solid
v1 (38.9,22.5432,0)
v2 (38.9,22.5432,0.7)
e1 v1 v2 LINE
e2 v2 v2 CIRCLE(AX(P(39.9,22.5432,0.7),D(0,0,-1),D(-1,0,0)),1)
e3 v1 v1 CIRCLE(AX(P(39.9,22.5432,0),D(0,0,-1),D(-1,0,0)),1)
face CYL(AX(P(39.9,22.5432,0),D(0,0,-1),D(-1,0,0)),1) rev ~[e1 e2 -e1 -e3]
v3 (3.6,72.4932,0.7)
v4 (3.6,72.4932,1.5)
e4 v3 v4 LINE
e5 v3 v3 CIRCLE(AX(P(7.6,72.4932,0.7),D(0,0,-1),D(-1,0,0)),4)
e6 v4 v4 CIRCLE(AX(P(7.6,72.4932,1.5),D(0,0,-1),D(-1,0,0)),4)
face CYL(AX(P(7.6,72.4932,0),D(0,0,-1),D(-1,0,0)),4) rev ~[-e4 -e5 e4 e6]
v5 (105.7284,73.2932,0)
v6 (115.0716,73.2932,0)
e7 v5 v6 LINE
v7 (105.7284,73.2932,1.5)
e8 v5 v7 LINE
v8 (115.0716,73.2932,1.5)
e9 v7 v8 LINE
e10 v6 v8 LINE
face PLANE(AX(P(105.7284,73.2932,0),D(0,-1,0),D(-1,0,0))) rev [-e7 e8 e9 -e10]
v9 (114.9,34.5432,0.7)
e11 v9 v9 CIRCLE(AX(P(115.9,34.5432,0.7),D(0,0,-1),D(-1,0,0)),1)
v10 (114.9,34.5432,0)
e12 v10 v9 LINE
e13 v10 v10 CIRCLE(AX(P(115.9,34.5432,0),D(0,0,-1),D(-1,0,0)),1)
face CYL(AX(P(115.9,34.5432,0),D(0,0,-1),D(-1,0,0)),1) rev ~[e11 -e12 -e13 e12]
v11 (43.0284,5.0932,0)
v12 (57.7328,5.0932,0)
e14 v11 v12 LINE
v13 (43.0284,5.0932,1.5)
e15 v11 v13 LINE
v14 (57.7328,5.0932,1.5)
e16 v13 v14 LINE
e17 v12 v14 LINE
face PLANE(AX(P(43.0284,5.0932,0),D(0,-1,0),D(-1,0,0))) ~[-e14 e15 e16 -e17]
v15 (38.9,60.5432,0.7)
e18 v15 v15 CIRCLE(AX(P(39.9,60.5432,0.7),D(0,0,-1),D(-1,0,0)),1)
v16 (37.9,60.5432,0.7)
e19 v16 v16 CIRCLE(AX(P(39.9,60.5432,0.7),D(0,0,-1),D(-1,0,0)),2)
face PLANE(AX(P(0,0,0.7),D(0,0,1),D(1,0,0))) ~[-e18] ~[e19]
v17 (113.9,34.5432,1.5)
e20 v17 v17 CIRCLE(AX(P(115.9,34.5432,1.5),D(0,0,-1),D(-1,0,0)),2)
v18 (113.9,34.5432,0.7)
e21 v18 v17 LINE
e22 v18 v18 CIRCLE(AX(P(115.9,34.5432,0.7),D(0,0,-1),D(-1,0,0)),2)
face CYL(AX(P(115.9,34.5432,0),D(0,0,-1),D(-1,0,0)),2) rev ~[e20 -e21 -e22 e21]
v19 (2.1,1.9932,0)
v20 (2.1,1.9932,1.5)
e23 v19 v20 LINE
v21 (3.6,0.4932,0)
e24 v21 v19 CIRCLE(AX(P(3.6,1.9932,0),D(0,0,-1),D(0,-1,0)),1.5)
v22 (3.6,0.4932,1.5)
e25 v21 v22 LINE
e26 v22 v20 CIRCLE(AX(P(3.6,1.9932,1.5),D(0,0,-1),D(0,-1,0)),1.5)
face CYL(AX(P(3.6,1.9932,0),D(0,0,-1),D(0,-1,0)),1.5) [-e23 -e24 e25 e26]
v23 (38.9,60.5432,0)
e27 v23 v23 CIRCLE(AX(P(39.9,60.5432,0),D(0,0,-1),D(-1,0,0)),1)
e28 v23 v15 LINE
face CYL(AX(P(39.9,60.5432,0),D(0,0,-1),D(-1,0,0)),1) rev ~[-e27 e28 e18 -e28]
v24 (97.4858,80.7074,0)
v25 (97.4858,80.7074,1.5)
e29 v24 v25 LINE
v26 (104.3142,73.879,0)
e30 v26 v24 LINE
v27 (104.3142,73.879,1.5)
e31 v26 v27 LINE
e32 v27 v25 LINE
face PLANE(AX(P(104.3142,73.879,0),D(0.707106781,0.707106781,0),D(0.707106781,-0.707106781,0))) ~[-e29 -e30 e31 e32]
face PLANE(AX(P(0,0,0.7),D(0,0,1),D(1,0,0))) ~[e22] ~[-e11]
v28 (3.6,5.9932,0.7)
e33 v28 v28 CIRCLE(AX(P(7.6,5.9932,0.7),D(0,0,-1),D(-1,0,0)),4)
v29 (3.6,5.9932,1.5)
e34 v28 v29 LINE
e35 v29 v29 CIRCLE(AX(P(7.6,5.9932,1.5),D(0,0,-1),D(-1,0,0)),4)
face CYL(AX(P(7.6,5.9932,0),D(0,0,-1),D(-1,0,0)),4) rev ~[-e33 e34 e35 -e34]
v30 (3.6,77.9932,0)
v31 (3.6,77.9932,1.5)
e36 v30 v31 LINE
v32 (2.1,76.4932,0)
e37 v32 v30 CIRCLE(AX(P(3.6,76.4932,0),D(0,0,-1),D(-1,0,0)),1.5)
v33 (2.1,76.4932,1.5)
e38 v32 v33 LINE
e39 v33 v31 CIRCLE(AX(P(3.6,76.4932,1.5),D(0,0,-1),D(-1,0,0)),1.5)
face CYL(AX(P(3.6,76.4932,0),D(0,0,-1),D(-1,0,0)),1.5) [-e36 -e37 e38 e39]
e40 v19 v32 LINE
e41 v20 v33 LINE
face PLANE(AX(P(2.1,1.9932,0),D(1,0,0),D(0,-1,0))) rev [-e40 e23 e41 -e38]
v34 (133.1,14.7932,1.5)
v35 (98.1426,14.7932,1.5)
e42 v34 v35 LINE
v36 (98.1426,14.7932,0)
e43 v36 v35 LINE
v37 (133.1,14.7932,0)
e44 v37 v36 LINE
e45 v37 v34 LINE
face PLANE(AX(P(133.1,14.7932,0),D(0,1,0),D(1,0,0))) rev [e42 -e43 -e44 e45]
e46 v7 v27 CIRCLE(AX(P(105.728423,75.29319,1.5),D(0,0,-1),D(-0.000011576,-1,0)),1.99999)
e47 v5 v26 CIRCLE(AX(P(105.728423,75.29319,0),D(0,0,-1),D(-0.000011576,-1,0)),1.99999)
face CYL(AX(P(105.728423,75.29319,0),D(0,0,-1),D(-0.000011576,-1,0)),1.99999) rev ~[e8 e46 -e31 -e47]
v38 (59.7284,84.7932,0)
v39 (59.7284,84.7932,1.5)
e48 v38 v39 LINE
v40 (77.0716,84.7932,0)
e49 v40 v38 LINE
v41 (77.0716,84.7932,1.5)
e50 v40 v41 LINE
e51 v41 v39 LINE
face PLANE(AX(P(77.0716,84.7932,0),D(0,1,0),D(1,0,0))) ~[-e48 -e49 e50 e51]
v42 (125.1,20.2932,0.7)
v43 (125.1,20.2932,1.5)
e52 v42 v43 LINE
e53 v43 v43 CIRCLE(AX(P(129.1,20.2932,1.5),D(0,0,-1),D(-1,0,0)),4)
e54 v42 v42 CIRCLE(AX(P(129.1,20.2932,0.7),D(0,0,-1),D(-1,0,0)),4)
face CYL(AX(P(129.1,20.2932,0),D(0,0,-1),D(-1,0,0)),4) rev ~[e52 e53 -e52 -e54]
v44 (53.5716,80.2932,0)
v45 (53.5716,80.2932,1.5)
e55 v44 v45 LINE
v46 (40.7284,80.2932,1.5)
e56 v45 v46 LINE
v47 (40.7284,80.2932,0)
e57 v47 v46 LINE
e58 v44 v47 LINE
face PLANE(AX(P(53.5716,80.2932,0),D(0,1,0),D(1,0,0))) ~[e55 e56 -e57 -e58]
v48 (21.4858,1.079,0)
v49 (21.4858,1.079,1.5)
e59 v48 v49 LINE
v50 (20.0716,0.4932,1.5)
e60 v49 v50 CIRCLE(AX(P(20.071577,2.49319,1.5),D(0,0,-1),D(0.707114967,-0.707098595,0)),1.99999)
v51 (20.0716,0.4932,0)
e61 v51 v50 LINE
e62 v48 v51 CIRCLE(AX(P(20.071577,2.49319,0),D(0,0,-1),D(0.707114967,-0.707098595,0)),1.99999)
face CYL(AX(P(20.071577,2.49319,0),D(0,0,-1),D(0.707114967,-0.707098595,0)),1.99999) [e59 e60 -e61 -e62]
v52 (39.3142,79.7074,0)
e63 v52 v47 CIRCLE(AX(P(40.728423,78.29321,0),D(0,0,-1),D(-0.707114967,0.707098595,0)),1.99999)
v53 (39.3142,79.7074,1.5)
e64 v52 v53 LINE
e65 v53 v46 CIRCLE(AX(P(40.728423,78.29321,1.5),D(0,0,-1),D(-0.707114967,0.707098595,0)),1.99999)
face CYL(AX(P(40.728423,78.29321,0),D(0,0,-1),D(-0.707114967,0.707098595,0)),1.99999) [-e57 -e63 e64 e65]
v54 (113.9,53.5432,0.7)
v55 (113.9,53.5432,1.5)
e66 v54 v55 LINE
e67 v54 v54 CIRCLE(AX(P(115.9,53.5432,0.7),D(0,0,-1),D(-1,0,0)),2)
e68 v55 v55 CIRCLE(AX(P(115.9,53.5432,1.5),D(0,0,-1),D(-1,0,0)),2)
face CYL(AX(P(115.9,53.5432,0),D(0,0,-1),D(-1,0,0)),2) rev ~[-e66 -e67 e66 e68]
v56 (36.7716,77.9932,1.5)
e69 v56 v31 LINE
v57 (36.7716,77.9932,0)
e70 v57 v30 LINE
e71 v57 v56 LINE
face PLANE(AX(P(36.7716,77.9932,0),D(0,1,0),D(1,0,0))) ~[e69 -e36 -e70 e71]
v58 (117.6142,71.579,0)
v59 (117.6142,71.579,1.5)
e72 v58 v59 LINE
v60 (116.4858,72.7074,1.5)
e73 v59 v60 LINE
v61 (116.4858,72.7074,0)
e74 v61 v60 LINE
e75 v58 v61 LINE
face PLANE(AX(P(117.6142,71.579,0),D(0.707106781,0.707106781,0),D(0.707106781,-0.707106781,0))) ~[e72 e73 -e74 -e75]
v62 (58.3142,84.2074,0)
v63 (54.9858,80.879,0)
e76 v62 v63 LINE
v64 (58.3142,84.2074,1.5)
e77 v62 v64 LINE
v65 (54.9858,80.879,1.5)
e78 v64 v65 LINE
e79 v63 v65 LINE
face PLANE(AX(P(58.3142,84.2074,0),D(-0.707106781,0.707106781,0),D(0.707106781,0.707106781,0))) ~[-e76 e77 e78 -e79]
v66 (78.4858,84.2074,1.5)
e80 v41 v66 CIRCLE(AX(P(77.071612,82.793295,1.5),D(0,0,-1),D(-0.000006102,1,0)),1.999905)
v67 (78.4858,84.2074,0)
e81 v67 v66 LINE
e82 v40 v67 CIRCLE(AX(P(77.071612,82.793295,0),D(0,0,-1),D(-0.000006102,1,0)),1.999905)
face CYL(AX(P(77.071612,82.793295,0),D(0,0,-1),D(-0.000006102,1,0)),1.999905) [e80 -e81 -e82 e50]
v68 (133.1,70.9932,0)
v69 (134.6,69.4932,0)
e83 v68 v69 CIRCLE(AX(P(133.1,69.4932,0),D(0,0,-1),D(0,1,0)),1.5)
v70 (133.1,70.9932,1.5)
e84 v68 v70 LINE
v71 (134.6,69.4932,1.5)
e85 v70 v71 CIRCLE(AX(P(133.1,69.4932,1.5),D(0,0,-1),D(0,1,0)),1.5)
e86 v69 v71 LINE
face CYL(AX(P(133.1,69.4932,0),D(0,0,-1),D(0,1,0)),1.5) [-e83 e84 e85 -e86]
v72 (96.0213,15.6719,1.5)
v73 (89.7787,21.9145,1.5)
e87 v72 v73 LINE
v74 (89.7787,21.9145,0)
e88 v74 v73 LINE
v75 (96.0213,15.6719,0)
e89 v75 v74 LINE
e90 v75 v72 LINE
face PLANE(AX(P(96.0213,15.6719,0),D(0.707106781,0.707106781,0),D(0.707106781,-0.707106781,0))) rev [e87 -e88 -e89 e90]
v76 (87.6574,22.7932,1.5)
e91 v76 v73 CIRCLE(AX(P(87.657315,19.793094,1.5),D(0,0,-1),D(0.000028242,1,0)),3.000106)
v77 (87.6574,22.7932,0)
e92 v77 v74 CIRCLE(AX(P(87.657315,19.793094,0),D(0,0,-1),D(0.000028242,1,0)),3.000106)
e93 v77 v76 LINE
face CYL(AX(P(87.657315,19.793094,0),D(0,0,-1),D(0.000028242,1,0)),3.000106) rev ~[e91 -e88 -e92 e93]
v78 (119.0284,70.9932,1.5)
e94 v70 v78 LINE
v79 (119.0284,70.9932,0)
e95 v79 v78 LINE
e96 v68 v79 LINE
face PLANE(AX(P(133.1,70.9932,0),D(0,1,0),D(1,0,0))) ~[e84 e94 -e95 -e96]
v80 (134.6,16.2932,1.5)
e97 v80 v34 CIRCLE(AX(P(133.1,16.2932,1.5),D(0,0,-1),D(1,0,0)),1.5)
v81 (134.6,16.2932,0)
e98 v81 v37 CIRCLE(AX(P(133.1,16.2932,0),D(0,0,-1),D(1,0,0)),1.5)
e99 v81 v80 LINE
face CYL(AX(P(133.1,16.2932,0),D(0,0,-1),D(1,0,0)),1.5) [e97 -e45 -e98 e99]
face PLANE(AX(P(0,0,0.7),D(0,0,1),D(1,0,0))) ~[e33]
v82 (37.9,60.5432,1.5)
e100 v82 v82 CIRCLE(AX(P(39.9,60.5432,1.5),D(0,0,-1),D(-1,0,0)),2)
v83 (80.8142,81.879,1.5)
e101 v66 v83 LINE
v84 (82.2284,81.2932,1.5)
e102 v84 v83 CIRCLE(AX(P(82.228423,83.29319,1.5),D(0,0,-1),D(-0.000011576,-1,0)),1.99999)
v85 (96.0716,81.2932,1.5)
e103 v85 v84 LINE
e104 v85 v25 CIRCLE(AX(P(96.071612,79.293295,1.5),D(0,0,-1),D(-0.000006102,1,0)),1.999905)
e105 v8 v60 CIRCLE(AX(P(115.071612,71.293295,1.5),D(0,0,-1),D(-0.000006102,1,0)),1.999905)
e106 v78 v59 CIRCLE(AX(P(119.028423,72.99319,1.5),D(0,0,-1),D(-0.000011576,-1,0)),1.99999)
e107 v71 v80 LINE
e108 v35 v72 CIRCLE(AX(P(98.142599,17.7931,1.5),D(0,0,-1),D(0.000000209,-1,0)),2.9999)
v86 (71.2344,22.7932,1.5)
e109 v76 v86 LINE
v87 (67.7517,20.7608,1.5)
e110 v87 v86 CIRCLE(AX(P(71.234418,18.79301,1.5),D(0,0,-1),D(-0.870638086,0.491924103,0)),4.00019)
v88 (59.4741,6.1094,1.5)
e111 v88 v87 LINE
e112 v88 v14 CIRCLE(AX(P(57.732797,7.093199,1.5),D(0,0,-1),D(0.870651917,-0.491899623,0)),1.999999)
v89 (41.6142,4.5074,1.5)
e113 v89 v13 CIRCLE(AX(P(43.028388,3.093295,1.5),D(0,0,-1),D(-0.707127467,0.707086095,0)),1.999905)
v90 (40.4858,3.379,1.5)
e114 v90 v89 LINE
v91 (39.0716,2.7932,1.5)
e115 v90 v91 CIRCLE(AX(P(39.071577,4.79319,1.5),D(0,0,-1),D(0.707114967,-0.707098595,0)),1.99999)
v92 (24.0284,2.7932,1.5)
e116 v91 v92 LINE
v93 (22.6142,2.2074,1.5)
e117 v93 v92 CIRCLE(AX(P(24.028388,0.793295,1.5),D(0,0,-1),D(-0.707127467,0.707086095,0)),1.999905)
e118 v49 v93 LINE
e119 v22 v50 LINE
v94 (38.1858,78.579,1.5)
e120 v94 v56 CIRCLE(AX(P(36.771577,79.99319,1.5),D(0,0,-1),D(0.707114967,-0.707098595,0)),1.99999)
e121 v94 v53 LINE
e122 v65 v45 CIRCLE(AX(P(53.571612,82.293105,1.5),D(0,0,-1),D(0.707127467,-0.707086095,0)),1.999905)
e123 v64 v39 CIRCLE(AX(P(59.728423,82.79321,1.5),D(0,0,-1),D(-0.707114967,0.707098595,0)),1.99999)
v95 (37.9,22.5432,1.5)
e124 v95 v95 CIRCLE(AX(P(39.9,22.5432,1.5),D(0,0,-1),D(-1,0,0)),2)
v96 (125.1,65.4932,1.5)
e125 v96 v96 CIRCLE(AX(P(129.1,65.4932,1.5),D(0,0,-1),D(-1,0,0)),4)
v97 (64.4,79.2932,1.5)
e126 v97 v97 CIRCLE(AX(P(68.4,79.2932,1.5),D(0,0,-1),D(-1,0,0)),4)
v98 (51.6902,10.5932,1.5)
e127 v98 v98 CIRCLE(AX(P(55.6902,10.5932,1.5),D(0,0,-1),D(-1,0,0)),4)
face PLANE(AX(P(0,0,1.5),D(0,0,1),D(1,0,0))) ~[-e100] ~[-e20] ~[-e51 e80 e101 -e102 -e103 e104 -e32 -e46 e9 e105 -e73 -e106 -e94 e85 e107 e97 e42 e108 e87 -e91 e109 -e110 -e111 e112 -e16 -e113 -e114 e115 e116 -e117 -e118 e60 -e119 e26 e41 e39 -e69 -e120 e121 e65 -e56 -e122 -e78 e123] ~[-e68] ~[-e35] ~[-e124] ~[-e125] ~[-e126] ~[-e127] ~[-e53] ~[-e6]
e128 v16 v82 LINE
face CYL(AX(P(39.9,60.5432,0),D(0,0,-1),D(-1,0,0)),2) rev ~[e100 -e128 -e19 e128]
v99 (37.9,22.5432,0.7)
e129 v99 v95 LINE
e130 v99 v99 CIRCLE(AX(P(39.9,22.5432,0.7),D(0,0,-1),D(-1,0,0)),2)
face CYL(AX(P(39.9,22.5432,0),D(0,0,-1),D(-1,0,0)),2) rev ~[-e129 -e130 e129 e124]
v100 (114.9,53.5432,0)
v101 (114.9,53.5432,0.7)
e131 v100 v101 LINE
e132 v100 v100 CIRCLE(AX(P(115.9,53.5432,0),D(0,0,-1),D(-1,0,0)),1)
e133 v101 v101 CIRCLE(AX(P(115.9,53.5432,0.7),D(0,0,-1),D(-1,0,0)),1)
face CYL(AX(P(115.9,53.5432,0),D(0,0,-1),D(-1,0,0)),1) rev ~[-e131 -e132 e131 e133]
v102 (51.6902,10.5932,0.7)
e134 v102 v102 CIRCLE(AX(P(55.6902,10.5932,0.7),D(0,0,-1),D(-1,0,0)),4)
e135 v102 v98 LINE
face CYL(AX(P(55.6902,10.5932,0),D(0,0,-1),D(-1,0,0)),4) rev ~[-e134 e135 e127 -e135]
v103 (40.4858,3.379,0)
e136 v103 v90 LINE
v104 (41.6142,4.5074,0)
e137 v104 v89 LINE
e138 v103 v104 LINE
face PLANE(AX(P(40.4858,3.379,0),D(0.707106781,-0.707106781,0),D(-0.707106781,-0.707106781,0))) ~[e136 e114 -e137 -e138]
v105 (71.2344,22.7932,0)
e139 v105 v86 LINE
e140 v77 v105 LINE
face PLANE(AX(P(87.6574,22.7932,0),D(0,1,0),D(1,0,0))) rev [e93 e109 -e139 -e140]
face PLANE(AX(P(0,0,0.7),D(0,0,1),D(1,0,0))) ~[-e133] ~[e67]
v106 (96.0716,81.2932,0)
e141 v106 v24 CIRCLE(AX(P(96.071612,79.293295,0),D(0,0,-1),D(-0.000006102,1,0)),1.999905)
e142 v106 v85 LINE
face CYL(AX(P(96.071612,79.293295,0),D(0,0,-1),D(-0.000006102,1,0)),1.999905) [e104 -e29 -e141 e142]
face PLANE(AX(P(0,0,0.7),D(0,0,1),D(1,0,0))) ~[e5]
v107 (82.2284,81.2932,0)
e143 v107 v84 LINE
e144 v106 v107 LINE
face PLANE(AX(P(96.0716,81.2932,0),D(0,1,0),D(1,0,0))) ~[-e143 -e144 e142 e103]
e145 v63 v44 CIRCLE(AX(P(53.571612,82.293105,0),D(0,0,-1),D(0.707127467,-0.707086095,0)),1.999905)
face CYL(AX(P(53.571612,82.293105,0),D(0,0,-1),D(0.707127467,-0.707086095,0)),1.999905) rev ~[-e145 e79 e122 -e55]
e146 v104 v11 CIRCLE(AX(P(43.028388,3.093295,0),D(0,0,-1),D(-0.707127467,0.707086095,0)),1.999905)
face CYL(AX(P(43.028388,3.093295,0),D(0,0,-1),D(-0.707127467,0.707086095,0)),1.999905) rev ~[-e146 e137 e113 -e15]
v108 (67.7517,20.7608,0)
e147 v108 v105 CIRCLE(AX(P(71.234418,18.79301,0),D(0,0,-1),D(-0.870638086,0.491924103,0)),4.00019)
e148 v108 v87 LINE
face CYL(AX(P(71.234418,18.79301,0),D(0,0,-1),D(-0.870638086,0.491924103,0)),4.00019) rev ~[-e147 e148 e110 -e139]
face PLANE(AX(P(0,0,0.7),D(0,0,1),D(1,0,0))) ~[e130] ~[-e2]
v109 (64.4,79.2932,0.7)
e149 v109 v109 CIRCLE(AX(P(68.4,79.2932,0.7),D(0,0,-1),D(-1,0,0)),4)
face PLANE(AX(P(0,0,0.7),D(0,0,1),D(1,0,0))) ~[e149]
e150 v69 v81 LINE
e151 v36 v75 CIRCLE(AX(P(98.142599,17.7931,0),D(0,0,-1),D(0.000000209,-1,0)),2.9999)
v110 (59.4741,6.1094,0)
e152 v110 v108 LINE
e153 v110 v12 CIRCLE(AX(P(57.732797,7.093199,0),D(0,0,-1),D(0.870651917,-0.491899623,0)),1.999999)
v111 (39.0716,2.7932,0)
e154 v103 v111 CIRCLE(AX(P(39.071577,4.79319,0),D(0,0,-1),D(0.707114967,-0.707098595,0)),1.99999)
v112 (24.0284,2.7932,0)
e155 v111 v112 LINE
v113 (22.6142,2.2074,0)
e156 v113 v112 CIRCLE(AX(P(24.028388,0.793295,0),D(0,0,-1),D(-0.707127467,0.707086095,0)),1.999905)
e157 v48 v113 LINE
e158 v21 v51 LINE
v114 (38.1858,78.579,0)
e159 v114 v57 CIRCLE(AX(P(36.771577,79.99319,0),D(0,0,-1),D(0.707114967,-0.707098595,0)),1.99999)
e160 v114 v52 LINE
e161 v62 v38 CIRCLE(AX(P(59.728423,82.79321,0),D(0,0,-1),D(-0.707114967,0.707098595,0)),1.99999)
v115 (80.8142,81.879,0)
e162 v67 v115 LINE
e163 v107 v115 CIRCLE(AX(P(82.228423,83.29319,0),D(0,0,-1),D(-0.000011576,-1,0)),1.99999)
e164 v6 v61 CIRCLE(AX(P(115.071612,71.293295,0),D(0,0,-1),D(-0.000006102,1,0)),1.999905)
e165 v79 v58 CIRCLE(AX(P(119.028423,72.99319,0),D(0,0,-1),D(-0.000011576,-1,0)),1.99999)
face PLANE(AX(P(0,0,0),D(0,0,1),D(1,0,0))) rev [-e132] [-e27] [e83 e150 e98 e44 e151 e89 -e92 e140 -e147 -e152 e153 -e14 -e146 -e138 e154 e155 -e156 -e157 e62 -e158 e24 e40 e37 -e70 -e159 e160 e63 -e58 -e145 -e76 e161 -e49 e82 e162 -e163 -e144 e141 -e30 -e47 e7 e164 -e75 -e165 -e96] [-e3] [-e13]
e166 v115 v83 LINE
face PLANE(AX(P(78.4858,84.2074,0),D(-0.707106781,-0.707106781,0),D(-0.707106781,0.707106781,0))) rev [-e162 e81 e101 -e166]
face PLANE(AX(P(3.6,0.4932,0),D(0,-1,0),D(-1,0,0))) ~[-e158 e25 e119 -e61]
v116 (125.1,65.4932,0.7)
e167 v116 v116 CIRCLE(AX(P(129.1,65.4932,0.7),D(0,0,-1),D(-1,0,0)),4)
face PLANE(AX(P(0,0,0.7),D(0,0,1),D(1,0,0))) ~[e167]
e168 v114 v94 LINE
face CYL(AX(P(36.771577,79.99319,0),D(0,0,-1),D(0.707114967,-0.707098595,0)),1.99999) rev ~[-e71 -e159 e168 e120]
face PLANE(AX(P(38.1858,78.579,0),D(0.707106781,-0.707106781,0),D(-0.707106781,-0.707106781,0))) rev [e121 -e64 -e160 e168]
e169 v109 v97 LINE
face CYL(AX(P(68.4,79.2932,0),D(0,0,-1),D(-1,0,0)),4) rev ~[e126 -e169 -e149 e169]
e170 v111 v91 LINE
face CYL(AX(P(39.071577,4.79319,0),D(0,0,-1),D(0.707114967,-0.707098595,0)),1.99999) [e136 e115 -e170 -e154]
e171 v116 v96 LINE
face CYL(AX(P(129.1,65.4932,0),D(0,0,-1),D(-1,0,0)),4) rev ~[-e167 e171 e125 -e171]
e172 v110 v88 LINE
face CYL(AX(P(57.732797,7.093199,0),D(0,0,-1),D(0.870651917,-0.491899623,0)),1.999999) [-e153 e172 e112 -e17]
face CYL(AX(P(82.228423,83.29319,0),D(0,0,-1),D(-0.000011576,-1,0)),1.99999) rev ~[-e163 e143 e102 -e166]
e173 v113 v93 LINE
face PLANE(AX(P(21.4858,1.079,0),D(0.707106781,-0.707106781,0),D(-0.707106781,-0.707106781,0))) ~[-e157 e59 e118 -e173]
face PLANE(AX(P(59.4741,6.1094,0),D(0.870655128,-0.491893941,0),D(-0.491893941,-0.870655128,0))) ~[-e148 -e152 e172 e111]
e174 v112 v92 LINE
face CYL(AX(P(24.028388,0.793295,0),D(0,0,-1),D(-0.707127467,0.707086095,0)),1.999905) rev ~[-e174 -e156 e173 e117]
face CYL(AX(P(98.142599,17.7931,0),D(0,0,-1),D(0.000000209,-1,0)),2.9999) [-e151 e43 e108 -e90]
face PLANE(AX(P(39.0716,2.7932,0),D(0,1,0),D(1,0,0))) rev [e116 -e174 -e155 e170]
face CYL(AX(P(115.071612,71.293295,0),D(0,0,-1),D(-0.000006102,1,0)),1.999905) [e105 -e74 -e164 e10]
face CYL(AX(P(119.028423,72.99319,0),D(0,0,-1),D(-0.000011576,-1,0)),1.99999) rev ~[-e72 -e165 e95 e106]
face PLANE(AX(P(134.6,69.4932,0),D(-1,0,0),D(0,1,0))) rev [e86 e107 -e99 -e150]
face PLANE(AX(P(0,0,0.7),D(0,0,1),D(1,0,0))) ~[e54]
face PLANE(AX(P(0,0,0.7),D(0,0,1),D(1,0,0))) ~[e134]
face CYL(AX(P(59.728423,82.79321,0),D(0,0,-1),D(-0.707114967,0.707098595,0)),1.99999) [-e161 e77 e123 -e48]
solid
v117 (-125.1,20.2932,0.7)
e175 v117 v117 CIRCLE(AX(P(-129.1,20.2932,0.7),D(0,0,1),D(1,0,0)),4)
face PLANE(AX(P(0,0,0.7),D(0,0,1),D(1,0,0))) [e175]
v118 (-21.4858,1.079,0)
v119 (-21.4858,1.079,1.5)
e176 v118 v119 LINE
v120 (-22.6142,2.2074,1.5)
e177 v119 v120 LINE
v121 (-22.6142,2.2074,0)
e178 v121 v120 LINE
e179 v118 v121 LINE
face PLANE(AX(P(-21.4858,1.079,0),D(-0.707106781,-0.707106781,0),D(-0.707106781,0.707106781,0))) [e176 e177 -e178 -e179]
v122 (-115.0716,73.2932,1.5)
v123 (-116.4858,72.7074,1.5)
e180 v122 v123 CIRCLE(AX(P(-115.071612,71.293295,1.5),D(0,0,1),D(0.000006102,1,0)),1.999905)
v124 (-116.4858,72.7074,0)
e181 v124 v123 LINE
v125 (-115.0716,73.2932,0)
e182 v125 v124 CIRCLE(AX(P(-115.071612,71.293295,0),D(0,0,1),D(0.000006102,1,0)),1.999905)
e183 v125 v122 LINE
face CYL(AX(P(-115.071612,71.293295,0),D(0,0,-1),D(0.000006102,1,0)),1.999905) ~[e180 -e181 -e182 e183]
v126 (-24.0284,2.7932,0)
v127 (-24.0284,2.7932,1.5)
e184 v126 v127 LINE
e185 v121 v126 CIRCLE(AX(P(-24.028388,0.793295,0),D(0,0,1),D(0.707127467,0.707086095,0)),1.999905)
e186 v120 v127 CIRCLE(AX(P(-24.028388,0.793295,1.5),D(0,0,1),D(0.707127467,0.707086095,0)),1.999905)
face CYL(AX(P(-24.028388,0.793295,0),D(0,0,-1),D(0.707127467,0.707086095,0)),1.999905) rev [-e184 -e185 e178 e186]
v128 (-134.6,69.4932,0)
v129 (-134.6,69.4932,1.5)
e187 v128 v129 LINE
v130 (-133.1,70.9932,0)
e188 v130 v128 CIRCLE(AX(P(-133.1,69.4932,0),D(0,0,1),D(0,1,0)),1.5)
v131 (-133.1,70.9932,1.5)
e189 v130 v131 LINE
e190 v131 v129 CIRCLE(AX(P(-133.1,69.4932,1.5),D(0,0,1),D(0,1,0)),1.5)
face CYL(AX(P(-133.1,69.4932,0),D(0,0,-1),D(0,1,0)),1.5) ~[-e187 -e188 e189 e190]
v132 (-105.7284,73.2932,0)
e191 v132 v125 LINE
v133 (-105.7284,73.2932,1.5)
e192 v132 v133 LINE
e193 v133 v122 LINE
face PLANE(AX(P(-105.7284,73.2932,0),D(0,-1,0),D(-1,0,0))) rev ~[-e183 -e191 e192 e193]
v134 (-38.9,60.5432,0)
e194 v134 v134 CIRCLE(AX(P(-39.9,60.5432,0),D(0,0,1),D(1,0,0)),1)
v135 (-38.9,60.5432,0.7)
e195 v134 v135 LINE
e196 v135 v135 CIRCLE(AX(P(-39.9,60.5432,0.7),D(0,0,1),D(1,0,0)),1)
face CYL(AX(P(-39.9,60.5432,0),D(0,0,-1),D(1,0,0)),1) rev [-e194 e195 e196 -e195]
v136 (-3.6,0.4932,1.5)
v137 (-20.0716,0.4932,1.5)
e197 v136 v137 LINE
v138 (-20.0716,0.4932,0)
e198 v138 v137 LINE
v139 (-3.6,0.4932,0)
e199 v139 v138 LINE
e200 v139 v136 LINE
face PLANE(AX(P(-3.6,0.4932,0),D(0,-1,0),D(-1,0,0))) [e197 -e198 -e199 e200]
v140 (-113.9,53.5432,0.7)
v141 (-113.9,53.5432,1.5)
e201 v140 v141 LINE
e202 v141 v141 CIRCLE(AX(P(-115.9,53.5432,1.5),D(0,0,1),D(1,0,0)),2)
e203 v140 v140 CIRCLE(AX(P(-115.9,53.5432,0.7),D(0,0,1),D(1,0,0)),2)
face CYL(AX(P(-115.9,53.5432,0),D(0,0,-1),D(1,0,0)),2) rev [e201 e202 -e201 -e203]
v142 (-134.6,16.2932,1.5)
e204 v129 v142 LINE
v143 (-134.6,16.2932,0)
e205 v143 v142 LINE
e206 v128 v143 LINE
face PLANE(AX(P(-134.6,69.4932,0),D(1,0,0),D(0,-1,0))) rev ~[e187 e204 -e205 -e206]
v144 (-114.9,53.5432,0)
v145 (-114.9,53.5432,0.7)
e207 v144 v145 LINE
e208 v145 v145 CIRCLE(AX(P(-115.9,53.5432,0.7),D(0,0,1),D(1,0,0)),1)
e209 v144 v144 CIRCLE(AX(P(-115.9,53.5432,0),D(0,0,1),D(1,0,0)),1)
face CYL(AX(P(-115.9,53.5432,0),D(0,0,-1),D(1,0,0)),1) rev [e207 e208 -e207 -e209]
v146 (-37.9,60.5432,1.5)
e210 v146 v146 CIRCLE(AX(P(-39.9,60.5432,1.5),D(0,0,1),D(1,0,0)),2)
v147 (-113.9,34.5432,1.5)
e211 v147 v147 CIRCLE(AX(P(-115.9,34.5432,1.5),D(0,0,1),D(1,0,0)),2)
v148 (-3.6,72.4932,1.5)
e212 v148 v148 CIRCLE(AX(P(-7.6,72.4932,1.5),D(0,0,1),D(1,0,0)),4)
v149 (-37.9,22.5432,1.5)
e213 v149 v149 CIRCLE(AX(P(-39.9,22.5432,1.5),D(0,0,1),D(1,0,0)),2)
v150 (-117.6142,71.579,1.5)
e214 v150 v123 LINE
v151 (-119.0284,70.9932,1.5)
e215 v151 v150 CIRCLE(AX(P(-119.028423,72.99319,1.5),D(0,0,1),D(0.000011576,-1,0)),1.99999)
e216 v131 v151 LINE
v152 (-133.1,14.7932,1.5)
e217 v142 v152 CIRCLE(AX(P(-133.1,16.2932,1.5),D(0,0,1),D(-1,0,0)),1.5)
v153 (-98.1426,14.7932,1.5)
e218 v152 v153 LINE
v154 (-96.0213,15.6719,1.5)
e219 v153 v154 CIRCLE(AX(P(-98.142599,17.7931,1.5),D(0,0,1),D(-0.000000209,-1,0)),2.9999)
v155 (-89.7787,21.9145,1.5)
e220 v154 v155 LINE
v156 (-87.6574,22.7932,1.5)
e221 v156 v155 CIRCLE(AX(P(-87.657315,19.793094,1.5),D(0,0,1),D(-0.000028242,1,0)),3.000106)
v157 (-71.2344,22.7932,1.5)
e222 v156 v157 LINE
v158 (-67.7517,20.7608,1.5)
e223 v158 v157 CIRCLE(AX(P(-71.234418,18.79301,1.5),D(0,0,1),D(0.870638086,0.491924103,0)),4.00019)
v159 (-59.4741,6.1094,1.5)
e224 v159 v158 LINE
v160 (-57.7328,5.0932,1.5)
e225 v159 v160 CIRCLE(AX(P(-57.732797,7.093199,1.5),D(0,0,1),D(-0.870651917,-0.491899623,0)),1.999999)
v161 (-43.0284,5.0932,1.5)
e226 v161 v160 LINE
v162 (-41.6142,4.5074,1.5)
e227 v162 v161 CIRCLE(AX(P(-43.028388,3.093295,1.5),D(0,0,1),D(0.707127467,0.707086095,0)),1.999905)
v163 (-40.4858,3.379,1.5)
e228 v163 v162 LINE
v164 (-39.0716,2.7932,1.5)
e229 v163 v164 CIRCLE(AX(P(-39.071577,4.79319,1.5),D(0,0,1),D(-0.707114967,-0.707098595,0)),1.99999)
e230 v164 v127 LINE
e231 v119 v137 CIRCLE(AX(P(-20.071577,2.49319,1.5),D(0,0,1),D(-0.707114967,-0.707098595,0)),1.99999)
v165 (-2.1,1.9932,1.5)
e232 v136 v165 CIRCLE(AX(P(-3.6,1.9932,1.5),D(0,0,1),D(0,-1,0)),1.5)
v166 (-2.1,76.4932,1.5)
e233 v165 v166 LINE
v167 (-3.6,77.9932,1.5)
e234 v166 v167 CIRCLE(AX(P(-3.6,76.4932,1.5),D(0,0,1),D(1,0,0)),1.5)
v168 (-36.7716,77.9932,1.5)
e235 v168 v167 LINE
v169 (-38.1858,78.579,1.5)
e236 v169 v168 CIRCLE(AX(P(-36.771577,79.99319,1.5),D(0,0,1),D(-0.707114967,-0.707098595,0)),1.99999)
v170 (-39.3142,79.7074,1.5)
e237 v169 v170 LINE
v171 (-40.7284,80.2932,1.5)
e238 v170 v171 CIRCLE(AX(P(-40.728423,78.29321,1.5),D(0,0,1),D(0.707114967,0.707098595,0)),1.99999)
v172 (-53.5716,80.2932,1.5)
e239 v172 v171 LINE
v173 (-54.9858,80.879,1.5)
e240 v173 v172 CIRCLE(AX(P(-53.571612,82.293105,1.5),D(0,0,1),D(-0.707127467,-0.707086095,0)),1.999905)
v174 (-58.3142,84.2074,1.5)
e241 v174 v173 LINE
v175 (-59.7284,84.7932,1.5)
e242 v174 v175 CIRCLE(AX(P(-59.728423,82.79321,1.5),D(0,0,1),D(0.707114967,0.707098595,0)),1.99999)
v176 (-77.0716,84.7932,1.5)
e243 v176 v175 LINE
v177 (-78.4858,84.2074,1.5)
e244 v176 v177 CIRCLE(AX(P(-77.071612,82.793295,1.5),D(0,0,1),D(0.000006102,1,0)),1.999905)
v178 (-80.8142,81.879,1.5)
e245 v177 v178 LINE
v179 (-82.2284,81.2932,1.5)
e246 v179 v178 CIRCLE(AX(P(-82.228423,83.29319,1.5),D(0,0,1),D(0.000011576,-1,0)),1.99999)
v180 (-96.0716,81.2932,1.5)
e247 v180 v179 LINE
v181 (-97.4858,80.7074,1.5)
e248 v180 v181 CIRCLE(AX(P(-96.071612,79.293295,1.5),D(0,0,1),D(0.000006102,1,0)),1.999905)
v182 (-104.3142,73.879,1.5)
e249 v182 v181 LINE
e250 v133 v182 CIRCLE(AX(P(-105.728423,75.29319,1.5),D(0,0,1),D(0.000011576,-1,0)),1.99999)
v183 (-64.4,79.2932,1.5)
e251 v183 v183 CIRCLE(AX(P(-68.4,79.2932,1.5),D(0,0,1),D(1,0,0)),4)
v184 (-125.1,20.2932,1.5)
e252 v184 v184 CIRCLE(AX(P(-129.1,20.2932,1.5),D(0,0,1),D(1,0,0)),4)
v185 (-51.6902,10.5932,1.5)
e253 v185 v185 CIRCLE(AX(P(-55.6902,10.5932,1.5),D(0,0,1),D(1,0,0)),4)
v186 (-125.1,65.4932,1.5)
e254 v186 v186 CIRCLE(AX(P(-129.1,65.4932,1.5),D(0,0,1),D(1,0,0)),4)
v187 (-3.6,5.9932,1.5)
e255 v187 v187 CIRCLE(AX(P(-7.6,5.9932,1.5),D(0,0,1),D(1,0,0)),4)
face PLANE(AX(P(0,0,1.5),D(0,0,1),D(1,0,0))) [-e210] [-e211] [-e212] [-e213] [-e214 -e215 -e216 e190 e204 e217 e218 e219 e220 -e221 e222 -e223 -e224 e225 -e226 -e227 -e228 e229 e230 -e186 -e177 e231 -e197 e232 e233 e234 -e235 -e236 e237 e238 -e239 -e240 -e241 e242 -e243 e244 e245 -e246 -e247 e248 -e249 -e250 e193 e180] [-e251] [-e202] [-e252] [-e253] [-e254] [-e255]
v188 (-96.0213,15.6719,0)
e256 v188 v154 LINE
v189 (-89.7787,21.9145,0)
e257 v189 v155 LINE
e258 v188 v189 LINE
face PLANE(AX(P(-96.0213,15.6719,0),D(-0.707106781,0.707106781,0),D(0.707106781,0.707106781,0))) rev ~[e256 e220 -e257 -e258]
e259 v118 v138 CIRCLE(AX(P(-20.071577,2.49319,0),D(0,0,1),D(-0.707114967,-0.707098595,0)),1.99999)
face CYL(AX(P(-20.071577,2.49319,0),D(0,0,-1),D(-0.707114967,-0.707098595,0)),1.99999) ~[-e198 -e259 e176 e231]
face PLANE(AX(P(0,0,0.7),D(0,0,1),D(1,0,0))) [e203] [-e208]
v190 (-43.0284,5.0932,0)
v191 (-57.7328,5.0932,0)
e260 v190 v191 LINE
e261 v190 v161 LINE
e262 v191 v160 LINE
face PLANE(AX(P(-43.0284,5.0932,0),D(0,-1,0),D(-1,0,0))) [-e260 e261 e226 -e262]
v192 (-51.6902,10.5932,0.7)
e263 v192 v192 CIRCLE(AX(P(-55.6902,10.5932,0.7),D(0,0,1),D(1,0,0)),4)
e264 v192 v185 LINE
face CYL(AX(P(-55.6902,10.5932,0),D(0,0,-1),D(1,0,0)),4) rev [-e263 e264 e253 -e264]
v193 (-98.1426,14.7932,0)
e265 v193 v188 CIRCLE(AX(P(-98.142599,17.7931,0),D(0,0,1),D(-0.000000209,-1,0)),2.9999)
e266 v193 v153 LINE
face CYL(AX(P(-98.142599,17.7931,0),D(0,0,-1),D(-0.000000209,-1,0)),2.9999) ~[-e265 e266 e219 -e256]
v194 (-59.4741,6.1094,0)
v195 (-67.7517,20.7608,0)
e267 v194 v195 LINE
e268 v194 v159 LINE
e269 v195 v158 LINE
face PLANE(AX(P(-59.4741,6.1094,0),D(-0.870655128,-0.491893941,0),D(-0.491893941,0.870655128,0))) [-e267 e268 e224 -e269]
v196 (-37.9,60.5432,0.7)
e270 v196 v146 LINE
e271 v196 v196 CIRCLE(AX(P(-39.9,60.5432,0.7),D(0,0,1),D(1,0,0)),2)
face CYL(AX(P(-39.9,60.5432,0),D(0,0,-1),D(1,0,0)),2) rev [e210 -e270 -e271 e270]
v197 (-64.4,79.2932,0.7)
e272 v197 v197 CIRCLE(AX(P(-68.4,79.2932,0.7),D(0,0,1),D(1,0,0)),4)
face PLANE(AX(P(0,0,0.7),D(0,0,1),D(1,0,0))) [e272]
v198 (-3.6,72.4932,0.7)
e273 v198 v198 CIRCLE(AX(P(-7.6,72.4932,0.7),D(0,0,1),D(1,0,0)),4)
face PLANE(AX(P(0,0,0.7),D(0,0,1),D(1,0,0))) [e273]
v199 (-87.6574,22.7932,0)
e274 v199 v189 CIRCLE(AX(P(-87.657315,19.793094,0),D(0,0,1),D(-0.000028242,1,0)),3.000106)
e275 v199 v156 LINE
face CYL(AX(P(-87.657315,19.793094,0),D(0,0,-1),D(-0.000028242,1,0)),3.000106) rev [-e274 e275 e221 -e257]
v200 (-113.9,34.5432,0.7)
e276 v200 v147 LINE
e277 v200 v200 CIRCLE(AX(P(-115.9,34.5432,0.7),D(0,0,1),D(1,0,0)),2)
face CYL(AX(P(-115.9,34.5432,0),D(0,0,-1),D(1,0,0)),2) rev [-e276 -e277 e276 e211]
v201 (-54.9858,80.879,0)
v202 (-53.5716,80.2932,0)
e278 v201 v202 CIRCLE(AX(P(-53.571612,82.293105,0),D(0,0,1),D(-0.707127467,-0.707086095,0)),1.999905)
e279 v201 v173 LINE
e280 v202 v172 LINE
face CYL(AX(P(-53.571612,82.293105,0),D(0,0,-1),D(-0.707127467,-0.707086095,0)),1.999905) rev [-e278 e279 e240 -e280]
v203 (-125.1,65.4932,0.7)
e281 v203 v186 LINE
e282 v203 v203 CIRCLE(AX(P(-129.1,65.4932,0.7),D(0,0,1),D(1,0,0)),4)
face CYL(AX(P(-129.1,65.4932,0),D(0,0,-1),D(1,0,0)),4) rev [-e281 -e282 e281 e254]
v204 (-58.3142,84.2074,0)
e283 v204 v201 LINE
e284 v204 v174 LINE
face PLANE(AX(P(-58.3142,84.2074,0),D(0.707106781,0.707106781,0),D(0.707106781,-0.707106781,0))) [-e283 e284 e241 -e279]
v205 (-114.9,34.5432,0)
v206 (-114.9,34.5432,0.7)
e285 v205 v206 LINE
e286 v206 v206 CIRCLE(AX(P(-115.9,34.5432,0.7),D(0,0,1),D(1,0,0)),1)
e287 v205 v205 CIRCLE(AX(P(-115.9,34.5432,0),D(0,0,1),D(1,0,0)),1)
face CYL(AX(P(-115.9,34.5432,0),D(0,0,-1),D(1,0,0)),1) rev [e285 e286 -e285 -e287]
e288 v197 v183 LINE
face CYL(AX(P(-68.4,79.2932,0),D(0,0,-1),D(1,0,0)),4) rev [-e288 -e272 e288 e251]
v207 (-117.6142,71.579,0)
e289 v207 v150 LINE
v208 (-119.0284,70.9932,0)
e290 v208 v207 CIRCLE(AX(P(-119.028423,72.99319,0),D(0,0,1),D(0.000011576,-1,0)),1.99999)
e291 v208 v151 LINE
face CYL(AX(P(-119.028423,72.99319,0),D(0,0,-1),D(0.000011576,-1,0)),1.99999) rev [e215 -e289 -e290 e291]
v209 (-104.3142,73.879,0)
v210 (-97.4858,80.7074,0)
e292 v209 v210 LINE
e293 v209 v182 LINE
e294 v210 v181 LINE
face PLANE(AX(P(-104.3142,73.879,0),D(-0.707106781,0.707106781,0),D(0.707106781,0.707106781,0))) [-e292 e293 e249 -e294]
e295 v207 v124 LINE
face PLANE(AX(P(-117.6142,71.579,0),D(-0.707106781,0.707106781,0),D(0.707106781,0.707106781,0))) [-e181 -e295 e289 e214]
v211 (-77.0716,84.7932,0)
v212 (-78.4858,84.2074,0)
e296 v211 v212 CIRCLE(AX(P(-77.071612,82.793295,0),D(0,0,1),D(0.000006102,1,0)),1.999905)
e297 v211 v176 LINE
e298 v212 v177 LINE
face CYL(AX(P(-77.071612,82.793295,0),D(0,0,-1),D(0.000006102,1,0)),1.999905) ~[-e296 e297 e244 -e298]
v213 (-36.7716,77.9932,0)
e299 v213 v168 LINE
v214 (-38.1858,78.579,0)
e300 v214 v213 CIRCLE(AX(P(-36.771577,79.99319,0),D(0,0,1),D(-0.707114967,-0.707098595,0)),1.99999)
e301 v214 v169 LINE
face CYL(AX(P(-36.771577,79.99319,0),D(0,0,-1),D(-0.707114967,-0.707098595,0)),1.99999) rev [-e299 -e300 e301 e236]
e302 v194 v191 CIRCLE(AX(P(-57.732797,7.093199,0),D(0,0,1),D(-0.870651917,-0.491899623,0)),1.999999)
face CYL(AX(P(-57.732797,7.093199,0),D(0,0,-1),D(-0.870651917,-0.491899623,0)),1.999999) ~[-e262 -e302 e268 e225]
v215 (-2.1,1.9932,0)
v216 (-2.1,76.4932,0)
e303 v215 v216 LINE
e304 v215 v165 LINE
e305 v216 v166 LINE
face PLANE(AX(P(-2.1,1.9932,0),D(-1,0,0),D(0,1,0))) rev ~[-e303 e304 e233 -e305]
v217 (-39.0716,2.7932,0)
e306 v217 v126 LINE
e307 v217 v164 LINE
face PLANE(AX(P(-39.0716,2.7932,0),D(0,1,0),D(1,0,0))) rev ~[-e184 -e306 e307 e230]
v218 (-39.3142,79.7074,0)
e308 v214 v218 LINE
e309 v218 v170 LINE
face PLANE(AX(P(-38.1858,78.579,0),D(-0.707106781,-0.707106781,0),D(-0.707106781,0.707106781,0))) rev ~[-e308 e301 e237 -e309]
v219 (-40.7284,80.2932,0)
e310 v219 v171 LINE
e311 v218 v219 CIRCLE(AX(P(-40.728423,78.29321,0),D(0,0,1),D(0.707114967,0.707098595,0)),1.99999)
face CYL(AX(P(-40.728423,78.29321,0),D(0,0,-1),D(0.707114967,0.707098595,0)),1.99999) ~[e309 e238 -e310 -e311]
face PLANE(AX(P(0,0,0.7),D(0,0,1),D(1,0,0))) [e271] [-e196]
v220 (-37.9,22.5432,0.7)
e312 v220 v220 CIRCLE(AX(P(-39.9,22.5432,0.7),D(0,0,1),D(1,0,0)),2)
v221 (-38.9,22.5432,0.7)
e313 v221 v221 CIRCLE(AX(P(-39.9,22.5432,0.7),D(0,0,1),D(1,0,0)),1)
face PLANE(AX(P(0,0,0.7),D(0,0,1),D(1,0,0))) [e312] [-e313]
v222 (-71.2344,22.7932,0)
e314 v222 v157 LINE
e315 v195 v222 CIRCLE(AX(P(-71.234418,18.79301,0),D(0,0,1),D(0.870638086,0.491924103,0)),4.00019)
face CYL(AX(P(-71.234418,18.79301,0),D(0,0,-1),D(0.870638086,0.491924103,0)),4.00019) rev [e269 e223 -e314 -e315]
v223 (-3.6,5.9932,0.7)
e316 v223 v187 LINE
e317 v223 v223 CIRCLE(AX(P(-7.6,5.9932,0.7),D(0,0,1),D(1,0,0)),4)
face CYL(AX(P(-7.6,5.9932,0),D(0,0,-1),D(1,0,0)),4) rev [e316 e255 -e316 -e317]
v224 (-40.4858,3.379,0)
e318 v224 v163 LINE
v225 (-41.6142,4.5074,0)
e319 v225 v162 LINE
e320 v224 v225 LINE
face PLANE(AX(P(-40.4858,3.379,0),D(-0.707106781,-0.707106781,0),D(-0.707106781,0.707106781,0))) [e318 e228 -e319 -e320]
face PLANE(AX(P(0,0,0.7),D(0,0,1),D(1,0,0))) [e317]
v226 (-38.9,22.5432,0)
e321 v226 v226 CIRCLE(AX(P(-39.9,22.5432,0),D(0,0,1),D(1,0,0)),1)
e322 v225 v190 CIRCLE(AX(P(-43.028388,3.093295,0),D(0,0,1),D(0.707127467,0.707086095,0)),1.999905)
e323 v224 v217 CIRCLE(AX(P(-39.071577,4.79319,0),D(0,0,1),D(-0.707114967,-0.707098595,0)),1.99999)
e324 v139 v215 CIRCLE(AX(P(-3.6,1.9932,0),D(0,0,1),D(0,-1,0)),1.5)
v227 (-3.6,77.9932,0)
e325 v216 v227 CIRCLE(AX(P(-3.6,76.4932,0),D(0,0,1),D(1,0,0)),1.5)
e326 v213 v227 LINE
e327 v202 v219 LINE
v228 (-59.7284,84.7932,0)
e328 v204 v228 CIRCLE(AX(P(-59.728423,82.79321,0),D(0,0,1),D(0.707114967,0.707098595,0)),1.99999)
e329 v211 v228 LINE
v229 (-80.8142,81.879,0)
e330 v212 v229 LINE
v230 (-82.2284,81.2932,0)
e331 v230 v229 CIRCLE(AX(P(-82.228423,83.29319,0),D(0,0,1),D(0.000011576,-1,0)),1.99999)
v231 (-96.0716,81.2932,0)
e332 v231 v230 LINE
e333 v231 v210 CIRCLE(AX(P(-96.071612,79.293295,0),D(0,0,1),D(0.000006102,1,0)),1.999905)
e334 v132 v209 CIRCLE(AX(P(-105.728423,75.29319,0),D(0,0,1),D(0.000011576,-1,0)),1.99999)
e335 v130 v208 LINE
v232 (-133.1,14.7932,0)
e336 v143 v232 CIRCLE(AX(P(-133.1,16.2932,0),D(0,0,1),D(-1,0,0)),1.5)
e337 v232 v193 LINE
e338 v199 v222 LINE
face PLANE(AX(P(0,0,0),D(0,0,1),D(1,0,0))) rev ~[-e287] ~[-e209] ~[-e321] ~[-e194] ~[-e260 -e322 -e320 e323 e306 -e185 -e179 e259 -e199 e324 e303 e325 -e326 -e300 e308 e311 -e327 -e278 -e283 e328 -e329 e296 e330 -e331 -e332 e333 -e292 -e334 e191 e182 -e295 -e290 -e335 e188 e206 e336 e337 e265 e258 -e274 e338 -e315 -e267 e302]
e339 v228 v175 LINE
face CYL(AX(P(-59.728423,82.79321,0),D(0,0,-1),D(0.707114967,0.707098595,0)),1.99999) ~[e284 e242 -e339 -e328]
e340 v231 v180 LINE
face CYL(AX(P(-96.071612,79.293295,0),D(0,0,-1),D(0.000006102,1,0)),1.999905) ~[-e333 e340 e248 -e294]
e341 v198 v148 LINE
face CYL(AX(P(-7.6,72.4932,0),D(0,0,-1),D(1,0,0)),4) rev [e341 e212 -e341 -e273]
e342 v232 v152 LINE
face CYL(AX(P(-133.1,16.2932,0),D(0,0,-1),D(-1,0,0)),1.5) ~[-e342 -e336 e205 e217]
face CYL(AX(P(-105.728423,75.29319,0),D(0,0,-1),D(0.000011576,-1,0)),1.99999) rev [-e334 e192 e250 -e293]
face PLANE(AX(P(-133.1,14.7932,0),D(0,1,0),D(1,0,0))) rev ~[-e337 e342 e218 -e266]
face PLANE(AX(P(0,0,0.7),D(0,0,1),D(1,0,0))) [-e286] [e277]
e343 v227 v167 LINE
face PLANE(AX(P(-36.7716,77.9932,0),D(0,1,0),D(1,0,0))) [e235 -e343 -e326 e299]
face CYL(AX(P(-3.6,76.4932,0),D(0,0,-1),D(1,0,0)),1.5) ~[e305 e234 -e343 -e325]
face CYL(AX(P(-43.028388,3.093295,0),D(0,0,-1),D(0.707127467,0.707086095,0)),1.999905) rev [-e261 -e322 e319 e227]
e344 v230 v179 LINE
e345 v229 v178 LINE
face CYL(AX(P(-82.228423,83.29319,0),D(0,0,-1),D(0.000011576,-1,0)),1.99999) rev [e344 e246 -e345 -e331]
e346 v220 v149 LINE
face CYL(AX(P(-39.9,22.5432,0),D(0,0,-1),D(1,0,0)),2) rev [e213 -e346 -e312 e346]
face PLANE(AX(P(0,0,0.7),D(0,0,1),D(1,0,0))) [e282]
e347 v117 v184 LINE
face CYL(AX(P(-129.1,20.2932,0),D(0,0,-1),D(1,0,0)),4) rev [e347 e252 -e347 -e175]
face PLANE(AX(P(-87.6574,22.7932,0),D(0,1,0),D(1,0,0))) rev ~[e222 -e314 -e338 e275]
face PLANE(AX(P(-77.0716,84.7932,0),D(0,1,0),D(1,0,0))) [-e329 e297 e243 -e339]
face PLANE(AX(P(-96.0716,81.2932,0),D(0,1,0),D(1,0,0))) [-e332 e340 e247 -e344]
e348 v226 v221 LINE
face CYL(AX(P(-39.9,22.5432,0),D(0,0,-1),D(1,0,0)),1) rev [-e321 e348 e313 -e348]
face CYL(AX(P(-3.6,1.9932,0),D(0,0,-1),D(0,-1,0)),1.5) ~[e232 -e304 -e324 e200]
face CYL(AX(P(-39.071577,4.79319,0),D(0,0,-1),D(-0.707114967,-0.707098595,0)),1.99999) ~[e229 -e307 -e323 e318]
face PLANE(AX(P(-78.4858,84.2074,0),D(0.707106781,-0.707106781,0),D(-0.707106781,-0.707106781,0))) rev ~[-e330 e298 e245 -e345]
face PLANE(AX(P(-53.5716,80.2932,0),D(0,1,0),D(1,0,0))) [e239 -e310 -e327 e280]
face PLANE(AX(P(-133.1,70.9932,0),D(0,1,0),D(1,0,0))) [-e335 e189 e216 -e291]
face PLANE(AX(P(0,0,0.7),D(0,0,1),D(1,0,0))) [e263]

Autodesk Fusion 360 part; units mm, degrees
sketch "mriya-bottom-plate" plane through (0, 0, 0) normal (0, 0, 1) x (1, 0, 0)
  line L0 (-96.0213, 15.6719) -> (-89.7787, 21.9145)
  line L1 (-21.4858, 1.079) -> (-22.6142, 2.2074)
  line L2 (-133.1, 14.7932) -> (-98.1426, 14.7932)
  line L3 (-39.0716, 2.7932) -> (-24.0284, 2.7932)
  line L4 (-3.6, 0.4932) -> (-20.0716, 0.4932)
  line L5 (-59.4741, 6.1094) -> (-67.7517, 20.7608)
  line L6 (-40.4858, 3.379) -> (-41.6142, 4.5074)
  line L7 (-117.6142, 71.579) -> (-116.4858, 72.7074)
  line L8 (-96.0716, 81.2932) -> (-82.2284, 81.2932)
  line L9 (-133.1, 70.9932) -> (-119.0284, 70.9932)
  line L10 (-87.6574, 22.7932) -> (-71.2344, 22.7932)
  line L11 (-43.0284, 5.0932) -> (-57.7328, 5.0932)
  line L12 (-104.3142, 73.879) -> (-97.4858, 80.7074)
  line L13 (-77.0716, 84.7932) -> (-59.7284, 84.7932)
  line L14 (-53.5716, 80.2932) -> (-40.7284, 80.2932)
  line L15 (-105.7284, 73.2932) -> (-115.0716, 73.2932)
  line L16 (-78.4858, 84.2074) -> (-80.8142, 81.879)
  line L17 (-58.3142, 84.2074) -> (-54.9858, 80.879)
  line L18 (-134.6, 69.4932) -> (-134.6, 16.2932)
  line L19 (-38.1858, 78.579) -> (-39.3142, 79.7074)
  circle A0 centre (-115.9, 53.5432) radius 1
  circle A1 centre (-115.9, 34.5432) radius 1
  circle A2 centre (-39.9, 22.5432) radius 1
  circle A3 centre (-39.9, 60.5432) radius 1
  arc A4 (-38.1858, 78.579) -> (-36.7716, 77.9932) centre (-36.7716, 79.9932) ccw
  arc A5 (-39.3142, 79.7074) -> (-40.7284, 80.2932) centre (-40.7284, 78.2932) ccw
  arc A6 (-54.9858, 80.879) -> (-53.5716, 80.2932) centre (-53.5716, 82.2931) ccw
  arc A7 (-58.3142, 84.2074) -> (-59.7284, 84.7932) centre (-59.7284, 82.7932) ccw
  arc A8 (-77.0716, 84.7932) -> (-78.4858, 84.2074) centre (-77.0716, 82.7933) ccw
  arc A9 (-82.2284, 81.2932) -> (-80.8142, 81.879) centre (-82.2284, 83.2932) ccw
  arc A10 (-96.0716, 81.2932) -> (-97.4858, 80.7074) centre (-96.0716, 79.2933) ccw
  arc A11 (-105.7284, 73.2932) -> (-104.3142, 73.879) centre (-105.7284, 75.2932) ccw
  arc A12 (-115.0716, 73.2932) -> (-116.4858, 72.7074) centre (-115.0716, 71.2933) ccw
  arc A13 (-119.0284, 70.9932) -> (-117.6142, 71.579) centre (-119.0284, 72.9932) ccw
  arc A14 (-133.1, 70.9932) -> (-134.6, 69.4932) centre (-133.1, 69.4932) ccw
  arc A15 (-134.6, 16.2932) -> (-133.1, 14.7932) centre (-133.1, 16.2932) ccw
  arc A16 (-98.1426, 14.7932) -> (-96.0213, 15.6719) centre (-98.1426, 17.7931) ccw
  arc A17 (-87.6574, 22.7932) -> (-89.7787, 21.9145) centre (-87.6573, 19.7931) ccw
  arc A18 (-67.7517, 20.7608) -> (-71.2344, 22.7932) centre (-71.2344, 18.793) ccw
  arc A19 (-59.4741, 6.1094) -> (-57.7328, 5.0932) centre (-57.7328, 7.0932) ccw
  arc A20 (-41.6142, 4.5074) -> (-43.0284, 5.0932) centre (-43.0284, 3.0933) ccw
  arc A21 (-40.4858, 3.379) -> (-39.0716, 2.7932) centre (-39.0716, 4.7932) ccw
  arc A22 (-22.6142, 2.2074) -> (-24.0284, 2.7932) centre (-24.0284, 0.7933) ccw
  arc A23 (-21.4858, 1.079) -> (-20.0716, 0.4932) centre (-20.0716, 2.4932) ccw
  arc A24 (-3.6, 0.4932) -> (-2.1, 1.9932) centre (-3.6, 1.9932) ccw
  line L20 (-2.1, 1.9932) -> (-2.1, 76.4932)
  line L21 (-36.7716, 77.9932) -> (-3.6, 77.9932)
  arc A25 (-2.1, 76.4932) -> (-3.6, 77.9932) centre (-3.6, 76.4932) ccw
  circle A26 centre (-115.9, 53.5432) radius 2
  circle A27 centre (-115.9, 34.5432) radius 2
  circle A28 centre (-39.9, 22.5432) radius 2
  circle A29 centre (-39.9, 60.5432) radius 2
  circle A30 centre (-129.1, 20.2932) radius 4
  circle A31 centre (-129.1, 65.4932) radius 4
  circle A32 centre (-68.4, 79.2932) radius 4
  circle A33 centre (-7.6, 72.4932) radius 4
  circle A34 centre (-7.6, 5.9932) radius 4
  circle A35 centre (-55.6902, 10.5932) radius 4
  dimension "d1" = 2
  dimension "d2" = 2
  dimension "d4" = 2
  dimension "d5" = 2
  dimension "d15" = 4
  dimension "d16" = 4
  dimension "d17" = 4
  dimension "d18" = 4
  dimension "d19" = 8
  dimension "d20" = 8
  dimension "d21" = 8
  dimension "d22" = 8
  dimension "d23" = 8
  dimension "d24" = 8
  dimension "d25" = 5.5
  dimension "d26" = 5.5
  dimension "d27" = 5.5
  dimension "d28" = 5.5
  dimension "d29" = 5.5
  dimension "d30" = 5.5
  dimension "d31" = 5.5
  dimension "d32" = 5.5
  dimension "d33" = 5.5
  dimension "d34" = 5.5
  dimension "d35" = 5.5
extrude "Extrude1" add sketch "mriya-bottom-plate" along normal blind 1.5 contours L0 L1 L2 L3 L4 L5 L6 L7 L8 L9 L10 L11 L12 L13 L14 L15 L16 L17 L18 L19 A4 A5 A6 A7 A8 A9 A10 A11 A12 A13 A14 A15 A16 A17 A18 A19 A20 A21 A22 A23 A24 L20 L21 A25 makes body 1
extrude "Extrude2" add sketch "mriya-bottom-plate" along normal blind 0.7 contours A26 | A27 | A28 | A29 | A30 | A31 | A32 | A33 | A34 | A35 bodies 1
mirror "Mirror1" about plane through (0, 0, 0) normal (1, 0, 0) of bodies 1 makes body 2
